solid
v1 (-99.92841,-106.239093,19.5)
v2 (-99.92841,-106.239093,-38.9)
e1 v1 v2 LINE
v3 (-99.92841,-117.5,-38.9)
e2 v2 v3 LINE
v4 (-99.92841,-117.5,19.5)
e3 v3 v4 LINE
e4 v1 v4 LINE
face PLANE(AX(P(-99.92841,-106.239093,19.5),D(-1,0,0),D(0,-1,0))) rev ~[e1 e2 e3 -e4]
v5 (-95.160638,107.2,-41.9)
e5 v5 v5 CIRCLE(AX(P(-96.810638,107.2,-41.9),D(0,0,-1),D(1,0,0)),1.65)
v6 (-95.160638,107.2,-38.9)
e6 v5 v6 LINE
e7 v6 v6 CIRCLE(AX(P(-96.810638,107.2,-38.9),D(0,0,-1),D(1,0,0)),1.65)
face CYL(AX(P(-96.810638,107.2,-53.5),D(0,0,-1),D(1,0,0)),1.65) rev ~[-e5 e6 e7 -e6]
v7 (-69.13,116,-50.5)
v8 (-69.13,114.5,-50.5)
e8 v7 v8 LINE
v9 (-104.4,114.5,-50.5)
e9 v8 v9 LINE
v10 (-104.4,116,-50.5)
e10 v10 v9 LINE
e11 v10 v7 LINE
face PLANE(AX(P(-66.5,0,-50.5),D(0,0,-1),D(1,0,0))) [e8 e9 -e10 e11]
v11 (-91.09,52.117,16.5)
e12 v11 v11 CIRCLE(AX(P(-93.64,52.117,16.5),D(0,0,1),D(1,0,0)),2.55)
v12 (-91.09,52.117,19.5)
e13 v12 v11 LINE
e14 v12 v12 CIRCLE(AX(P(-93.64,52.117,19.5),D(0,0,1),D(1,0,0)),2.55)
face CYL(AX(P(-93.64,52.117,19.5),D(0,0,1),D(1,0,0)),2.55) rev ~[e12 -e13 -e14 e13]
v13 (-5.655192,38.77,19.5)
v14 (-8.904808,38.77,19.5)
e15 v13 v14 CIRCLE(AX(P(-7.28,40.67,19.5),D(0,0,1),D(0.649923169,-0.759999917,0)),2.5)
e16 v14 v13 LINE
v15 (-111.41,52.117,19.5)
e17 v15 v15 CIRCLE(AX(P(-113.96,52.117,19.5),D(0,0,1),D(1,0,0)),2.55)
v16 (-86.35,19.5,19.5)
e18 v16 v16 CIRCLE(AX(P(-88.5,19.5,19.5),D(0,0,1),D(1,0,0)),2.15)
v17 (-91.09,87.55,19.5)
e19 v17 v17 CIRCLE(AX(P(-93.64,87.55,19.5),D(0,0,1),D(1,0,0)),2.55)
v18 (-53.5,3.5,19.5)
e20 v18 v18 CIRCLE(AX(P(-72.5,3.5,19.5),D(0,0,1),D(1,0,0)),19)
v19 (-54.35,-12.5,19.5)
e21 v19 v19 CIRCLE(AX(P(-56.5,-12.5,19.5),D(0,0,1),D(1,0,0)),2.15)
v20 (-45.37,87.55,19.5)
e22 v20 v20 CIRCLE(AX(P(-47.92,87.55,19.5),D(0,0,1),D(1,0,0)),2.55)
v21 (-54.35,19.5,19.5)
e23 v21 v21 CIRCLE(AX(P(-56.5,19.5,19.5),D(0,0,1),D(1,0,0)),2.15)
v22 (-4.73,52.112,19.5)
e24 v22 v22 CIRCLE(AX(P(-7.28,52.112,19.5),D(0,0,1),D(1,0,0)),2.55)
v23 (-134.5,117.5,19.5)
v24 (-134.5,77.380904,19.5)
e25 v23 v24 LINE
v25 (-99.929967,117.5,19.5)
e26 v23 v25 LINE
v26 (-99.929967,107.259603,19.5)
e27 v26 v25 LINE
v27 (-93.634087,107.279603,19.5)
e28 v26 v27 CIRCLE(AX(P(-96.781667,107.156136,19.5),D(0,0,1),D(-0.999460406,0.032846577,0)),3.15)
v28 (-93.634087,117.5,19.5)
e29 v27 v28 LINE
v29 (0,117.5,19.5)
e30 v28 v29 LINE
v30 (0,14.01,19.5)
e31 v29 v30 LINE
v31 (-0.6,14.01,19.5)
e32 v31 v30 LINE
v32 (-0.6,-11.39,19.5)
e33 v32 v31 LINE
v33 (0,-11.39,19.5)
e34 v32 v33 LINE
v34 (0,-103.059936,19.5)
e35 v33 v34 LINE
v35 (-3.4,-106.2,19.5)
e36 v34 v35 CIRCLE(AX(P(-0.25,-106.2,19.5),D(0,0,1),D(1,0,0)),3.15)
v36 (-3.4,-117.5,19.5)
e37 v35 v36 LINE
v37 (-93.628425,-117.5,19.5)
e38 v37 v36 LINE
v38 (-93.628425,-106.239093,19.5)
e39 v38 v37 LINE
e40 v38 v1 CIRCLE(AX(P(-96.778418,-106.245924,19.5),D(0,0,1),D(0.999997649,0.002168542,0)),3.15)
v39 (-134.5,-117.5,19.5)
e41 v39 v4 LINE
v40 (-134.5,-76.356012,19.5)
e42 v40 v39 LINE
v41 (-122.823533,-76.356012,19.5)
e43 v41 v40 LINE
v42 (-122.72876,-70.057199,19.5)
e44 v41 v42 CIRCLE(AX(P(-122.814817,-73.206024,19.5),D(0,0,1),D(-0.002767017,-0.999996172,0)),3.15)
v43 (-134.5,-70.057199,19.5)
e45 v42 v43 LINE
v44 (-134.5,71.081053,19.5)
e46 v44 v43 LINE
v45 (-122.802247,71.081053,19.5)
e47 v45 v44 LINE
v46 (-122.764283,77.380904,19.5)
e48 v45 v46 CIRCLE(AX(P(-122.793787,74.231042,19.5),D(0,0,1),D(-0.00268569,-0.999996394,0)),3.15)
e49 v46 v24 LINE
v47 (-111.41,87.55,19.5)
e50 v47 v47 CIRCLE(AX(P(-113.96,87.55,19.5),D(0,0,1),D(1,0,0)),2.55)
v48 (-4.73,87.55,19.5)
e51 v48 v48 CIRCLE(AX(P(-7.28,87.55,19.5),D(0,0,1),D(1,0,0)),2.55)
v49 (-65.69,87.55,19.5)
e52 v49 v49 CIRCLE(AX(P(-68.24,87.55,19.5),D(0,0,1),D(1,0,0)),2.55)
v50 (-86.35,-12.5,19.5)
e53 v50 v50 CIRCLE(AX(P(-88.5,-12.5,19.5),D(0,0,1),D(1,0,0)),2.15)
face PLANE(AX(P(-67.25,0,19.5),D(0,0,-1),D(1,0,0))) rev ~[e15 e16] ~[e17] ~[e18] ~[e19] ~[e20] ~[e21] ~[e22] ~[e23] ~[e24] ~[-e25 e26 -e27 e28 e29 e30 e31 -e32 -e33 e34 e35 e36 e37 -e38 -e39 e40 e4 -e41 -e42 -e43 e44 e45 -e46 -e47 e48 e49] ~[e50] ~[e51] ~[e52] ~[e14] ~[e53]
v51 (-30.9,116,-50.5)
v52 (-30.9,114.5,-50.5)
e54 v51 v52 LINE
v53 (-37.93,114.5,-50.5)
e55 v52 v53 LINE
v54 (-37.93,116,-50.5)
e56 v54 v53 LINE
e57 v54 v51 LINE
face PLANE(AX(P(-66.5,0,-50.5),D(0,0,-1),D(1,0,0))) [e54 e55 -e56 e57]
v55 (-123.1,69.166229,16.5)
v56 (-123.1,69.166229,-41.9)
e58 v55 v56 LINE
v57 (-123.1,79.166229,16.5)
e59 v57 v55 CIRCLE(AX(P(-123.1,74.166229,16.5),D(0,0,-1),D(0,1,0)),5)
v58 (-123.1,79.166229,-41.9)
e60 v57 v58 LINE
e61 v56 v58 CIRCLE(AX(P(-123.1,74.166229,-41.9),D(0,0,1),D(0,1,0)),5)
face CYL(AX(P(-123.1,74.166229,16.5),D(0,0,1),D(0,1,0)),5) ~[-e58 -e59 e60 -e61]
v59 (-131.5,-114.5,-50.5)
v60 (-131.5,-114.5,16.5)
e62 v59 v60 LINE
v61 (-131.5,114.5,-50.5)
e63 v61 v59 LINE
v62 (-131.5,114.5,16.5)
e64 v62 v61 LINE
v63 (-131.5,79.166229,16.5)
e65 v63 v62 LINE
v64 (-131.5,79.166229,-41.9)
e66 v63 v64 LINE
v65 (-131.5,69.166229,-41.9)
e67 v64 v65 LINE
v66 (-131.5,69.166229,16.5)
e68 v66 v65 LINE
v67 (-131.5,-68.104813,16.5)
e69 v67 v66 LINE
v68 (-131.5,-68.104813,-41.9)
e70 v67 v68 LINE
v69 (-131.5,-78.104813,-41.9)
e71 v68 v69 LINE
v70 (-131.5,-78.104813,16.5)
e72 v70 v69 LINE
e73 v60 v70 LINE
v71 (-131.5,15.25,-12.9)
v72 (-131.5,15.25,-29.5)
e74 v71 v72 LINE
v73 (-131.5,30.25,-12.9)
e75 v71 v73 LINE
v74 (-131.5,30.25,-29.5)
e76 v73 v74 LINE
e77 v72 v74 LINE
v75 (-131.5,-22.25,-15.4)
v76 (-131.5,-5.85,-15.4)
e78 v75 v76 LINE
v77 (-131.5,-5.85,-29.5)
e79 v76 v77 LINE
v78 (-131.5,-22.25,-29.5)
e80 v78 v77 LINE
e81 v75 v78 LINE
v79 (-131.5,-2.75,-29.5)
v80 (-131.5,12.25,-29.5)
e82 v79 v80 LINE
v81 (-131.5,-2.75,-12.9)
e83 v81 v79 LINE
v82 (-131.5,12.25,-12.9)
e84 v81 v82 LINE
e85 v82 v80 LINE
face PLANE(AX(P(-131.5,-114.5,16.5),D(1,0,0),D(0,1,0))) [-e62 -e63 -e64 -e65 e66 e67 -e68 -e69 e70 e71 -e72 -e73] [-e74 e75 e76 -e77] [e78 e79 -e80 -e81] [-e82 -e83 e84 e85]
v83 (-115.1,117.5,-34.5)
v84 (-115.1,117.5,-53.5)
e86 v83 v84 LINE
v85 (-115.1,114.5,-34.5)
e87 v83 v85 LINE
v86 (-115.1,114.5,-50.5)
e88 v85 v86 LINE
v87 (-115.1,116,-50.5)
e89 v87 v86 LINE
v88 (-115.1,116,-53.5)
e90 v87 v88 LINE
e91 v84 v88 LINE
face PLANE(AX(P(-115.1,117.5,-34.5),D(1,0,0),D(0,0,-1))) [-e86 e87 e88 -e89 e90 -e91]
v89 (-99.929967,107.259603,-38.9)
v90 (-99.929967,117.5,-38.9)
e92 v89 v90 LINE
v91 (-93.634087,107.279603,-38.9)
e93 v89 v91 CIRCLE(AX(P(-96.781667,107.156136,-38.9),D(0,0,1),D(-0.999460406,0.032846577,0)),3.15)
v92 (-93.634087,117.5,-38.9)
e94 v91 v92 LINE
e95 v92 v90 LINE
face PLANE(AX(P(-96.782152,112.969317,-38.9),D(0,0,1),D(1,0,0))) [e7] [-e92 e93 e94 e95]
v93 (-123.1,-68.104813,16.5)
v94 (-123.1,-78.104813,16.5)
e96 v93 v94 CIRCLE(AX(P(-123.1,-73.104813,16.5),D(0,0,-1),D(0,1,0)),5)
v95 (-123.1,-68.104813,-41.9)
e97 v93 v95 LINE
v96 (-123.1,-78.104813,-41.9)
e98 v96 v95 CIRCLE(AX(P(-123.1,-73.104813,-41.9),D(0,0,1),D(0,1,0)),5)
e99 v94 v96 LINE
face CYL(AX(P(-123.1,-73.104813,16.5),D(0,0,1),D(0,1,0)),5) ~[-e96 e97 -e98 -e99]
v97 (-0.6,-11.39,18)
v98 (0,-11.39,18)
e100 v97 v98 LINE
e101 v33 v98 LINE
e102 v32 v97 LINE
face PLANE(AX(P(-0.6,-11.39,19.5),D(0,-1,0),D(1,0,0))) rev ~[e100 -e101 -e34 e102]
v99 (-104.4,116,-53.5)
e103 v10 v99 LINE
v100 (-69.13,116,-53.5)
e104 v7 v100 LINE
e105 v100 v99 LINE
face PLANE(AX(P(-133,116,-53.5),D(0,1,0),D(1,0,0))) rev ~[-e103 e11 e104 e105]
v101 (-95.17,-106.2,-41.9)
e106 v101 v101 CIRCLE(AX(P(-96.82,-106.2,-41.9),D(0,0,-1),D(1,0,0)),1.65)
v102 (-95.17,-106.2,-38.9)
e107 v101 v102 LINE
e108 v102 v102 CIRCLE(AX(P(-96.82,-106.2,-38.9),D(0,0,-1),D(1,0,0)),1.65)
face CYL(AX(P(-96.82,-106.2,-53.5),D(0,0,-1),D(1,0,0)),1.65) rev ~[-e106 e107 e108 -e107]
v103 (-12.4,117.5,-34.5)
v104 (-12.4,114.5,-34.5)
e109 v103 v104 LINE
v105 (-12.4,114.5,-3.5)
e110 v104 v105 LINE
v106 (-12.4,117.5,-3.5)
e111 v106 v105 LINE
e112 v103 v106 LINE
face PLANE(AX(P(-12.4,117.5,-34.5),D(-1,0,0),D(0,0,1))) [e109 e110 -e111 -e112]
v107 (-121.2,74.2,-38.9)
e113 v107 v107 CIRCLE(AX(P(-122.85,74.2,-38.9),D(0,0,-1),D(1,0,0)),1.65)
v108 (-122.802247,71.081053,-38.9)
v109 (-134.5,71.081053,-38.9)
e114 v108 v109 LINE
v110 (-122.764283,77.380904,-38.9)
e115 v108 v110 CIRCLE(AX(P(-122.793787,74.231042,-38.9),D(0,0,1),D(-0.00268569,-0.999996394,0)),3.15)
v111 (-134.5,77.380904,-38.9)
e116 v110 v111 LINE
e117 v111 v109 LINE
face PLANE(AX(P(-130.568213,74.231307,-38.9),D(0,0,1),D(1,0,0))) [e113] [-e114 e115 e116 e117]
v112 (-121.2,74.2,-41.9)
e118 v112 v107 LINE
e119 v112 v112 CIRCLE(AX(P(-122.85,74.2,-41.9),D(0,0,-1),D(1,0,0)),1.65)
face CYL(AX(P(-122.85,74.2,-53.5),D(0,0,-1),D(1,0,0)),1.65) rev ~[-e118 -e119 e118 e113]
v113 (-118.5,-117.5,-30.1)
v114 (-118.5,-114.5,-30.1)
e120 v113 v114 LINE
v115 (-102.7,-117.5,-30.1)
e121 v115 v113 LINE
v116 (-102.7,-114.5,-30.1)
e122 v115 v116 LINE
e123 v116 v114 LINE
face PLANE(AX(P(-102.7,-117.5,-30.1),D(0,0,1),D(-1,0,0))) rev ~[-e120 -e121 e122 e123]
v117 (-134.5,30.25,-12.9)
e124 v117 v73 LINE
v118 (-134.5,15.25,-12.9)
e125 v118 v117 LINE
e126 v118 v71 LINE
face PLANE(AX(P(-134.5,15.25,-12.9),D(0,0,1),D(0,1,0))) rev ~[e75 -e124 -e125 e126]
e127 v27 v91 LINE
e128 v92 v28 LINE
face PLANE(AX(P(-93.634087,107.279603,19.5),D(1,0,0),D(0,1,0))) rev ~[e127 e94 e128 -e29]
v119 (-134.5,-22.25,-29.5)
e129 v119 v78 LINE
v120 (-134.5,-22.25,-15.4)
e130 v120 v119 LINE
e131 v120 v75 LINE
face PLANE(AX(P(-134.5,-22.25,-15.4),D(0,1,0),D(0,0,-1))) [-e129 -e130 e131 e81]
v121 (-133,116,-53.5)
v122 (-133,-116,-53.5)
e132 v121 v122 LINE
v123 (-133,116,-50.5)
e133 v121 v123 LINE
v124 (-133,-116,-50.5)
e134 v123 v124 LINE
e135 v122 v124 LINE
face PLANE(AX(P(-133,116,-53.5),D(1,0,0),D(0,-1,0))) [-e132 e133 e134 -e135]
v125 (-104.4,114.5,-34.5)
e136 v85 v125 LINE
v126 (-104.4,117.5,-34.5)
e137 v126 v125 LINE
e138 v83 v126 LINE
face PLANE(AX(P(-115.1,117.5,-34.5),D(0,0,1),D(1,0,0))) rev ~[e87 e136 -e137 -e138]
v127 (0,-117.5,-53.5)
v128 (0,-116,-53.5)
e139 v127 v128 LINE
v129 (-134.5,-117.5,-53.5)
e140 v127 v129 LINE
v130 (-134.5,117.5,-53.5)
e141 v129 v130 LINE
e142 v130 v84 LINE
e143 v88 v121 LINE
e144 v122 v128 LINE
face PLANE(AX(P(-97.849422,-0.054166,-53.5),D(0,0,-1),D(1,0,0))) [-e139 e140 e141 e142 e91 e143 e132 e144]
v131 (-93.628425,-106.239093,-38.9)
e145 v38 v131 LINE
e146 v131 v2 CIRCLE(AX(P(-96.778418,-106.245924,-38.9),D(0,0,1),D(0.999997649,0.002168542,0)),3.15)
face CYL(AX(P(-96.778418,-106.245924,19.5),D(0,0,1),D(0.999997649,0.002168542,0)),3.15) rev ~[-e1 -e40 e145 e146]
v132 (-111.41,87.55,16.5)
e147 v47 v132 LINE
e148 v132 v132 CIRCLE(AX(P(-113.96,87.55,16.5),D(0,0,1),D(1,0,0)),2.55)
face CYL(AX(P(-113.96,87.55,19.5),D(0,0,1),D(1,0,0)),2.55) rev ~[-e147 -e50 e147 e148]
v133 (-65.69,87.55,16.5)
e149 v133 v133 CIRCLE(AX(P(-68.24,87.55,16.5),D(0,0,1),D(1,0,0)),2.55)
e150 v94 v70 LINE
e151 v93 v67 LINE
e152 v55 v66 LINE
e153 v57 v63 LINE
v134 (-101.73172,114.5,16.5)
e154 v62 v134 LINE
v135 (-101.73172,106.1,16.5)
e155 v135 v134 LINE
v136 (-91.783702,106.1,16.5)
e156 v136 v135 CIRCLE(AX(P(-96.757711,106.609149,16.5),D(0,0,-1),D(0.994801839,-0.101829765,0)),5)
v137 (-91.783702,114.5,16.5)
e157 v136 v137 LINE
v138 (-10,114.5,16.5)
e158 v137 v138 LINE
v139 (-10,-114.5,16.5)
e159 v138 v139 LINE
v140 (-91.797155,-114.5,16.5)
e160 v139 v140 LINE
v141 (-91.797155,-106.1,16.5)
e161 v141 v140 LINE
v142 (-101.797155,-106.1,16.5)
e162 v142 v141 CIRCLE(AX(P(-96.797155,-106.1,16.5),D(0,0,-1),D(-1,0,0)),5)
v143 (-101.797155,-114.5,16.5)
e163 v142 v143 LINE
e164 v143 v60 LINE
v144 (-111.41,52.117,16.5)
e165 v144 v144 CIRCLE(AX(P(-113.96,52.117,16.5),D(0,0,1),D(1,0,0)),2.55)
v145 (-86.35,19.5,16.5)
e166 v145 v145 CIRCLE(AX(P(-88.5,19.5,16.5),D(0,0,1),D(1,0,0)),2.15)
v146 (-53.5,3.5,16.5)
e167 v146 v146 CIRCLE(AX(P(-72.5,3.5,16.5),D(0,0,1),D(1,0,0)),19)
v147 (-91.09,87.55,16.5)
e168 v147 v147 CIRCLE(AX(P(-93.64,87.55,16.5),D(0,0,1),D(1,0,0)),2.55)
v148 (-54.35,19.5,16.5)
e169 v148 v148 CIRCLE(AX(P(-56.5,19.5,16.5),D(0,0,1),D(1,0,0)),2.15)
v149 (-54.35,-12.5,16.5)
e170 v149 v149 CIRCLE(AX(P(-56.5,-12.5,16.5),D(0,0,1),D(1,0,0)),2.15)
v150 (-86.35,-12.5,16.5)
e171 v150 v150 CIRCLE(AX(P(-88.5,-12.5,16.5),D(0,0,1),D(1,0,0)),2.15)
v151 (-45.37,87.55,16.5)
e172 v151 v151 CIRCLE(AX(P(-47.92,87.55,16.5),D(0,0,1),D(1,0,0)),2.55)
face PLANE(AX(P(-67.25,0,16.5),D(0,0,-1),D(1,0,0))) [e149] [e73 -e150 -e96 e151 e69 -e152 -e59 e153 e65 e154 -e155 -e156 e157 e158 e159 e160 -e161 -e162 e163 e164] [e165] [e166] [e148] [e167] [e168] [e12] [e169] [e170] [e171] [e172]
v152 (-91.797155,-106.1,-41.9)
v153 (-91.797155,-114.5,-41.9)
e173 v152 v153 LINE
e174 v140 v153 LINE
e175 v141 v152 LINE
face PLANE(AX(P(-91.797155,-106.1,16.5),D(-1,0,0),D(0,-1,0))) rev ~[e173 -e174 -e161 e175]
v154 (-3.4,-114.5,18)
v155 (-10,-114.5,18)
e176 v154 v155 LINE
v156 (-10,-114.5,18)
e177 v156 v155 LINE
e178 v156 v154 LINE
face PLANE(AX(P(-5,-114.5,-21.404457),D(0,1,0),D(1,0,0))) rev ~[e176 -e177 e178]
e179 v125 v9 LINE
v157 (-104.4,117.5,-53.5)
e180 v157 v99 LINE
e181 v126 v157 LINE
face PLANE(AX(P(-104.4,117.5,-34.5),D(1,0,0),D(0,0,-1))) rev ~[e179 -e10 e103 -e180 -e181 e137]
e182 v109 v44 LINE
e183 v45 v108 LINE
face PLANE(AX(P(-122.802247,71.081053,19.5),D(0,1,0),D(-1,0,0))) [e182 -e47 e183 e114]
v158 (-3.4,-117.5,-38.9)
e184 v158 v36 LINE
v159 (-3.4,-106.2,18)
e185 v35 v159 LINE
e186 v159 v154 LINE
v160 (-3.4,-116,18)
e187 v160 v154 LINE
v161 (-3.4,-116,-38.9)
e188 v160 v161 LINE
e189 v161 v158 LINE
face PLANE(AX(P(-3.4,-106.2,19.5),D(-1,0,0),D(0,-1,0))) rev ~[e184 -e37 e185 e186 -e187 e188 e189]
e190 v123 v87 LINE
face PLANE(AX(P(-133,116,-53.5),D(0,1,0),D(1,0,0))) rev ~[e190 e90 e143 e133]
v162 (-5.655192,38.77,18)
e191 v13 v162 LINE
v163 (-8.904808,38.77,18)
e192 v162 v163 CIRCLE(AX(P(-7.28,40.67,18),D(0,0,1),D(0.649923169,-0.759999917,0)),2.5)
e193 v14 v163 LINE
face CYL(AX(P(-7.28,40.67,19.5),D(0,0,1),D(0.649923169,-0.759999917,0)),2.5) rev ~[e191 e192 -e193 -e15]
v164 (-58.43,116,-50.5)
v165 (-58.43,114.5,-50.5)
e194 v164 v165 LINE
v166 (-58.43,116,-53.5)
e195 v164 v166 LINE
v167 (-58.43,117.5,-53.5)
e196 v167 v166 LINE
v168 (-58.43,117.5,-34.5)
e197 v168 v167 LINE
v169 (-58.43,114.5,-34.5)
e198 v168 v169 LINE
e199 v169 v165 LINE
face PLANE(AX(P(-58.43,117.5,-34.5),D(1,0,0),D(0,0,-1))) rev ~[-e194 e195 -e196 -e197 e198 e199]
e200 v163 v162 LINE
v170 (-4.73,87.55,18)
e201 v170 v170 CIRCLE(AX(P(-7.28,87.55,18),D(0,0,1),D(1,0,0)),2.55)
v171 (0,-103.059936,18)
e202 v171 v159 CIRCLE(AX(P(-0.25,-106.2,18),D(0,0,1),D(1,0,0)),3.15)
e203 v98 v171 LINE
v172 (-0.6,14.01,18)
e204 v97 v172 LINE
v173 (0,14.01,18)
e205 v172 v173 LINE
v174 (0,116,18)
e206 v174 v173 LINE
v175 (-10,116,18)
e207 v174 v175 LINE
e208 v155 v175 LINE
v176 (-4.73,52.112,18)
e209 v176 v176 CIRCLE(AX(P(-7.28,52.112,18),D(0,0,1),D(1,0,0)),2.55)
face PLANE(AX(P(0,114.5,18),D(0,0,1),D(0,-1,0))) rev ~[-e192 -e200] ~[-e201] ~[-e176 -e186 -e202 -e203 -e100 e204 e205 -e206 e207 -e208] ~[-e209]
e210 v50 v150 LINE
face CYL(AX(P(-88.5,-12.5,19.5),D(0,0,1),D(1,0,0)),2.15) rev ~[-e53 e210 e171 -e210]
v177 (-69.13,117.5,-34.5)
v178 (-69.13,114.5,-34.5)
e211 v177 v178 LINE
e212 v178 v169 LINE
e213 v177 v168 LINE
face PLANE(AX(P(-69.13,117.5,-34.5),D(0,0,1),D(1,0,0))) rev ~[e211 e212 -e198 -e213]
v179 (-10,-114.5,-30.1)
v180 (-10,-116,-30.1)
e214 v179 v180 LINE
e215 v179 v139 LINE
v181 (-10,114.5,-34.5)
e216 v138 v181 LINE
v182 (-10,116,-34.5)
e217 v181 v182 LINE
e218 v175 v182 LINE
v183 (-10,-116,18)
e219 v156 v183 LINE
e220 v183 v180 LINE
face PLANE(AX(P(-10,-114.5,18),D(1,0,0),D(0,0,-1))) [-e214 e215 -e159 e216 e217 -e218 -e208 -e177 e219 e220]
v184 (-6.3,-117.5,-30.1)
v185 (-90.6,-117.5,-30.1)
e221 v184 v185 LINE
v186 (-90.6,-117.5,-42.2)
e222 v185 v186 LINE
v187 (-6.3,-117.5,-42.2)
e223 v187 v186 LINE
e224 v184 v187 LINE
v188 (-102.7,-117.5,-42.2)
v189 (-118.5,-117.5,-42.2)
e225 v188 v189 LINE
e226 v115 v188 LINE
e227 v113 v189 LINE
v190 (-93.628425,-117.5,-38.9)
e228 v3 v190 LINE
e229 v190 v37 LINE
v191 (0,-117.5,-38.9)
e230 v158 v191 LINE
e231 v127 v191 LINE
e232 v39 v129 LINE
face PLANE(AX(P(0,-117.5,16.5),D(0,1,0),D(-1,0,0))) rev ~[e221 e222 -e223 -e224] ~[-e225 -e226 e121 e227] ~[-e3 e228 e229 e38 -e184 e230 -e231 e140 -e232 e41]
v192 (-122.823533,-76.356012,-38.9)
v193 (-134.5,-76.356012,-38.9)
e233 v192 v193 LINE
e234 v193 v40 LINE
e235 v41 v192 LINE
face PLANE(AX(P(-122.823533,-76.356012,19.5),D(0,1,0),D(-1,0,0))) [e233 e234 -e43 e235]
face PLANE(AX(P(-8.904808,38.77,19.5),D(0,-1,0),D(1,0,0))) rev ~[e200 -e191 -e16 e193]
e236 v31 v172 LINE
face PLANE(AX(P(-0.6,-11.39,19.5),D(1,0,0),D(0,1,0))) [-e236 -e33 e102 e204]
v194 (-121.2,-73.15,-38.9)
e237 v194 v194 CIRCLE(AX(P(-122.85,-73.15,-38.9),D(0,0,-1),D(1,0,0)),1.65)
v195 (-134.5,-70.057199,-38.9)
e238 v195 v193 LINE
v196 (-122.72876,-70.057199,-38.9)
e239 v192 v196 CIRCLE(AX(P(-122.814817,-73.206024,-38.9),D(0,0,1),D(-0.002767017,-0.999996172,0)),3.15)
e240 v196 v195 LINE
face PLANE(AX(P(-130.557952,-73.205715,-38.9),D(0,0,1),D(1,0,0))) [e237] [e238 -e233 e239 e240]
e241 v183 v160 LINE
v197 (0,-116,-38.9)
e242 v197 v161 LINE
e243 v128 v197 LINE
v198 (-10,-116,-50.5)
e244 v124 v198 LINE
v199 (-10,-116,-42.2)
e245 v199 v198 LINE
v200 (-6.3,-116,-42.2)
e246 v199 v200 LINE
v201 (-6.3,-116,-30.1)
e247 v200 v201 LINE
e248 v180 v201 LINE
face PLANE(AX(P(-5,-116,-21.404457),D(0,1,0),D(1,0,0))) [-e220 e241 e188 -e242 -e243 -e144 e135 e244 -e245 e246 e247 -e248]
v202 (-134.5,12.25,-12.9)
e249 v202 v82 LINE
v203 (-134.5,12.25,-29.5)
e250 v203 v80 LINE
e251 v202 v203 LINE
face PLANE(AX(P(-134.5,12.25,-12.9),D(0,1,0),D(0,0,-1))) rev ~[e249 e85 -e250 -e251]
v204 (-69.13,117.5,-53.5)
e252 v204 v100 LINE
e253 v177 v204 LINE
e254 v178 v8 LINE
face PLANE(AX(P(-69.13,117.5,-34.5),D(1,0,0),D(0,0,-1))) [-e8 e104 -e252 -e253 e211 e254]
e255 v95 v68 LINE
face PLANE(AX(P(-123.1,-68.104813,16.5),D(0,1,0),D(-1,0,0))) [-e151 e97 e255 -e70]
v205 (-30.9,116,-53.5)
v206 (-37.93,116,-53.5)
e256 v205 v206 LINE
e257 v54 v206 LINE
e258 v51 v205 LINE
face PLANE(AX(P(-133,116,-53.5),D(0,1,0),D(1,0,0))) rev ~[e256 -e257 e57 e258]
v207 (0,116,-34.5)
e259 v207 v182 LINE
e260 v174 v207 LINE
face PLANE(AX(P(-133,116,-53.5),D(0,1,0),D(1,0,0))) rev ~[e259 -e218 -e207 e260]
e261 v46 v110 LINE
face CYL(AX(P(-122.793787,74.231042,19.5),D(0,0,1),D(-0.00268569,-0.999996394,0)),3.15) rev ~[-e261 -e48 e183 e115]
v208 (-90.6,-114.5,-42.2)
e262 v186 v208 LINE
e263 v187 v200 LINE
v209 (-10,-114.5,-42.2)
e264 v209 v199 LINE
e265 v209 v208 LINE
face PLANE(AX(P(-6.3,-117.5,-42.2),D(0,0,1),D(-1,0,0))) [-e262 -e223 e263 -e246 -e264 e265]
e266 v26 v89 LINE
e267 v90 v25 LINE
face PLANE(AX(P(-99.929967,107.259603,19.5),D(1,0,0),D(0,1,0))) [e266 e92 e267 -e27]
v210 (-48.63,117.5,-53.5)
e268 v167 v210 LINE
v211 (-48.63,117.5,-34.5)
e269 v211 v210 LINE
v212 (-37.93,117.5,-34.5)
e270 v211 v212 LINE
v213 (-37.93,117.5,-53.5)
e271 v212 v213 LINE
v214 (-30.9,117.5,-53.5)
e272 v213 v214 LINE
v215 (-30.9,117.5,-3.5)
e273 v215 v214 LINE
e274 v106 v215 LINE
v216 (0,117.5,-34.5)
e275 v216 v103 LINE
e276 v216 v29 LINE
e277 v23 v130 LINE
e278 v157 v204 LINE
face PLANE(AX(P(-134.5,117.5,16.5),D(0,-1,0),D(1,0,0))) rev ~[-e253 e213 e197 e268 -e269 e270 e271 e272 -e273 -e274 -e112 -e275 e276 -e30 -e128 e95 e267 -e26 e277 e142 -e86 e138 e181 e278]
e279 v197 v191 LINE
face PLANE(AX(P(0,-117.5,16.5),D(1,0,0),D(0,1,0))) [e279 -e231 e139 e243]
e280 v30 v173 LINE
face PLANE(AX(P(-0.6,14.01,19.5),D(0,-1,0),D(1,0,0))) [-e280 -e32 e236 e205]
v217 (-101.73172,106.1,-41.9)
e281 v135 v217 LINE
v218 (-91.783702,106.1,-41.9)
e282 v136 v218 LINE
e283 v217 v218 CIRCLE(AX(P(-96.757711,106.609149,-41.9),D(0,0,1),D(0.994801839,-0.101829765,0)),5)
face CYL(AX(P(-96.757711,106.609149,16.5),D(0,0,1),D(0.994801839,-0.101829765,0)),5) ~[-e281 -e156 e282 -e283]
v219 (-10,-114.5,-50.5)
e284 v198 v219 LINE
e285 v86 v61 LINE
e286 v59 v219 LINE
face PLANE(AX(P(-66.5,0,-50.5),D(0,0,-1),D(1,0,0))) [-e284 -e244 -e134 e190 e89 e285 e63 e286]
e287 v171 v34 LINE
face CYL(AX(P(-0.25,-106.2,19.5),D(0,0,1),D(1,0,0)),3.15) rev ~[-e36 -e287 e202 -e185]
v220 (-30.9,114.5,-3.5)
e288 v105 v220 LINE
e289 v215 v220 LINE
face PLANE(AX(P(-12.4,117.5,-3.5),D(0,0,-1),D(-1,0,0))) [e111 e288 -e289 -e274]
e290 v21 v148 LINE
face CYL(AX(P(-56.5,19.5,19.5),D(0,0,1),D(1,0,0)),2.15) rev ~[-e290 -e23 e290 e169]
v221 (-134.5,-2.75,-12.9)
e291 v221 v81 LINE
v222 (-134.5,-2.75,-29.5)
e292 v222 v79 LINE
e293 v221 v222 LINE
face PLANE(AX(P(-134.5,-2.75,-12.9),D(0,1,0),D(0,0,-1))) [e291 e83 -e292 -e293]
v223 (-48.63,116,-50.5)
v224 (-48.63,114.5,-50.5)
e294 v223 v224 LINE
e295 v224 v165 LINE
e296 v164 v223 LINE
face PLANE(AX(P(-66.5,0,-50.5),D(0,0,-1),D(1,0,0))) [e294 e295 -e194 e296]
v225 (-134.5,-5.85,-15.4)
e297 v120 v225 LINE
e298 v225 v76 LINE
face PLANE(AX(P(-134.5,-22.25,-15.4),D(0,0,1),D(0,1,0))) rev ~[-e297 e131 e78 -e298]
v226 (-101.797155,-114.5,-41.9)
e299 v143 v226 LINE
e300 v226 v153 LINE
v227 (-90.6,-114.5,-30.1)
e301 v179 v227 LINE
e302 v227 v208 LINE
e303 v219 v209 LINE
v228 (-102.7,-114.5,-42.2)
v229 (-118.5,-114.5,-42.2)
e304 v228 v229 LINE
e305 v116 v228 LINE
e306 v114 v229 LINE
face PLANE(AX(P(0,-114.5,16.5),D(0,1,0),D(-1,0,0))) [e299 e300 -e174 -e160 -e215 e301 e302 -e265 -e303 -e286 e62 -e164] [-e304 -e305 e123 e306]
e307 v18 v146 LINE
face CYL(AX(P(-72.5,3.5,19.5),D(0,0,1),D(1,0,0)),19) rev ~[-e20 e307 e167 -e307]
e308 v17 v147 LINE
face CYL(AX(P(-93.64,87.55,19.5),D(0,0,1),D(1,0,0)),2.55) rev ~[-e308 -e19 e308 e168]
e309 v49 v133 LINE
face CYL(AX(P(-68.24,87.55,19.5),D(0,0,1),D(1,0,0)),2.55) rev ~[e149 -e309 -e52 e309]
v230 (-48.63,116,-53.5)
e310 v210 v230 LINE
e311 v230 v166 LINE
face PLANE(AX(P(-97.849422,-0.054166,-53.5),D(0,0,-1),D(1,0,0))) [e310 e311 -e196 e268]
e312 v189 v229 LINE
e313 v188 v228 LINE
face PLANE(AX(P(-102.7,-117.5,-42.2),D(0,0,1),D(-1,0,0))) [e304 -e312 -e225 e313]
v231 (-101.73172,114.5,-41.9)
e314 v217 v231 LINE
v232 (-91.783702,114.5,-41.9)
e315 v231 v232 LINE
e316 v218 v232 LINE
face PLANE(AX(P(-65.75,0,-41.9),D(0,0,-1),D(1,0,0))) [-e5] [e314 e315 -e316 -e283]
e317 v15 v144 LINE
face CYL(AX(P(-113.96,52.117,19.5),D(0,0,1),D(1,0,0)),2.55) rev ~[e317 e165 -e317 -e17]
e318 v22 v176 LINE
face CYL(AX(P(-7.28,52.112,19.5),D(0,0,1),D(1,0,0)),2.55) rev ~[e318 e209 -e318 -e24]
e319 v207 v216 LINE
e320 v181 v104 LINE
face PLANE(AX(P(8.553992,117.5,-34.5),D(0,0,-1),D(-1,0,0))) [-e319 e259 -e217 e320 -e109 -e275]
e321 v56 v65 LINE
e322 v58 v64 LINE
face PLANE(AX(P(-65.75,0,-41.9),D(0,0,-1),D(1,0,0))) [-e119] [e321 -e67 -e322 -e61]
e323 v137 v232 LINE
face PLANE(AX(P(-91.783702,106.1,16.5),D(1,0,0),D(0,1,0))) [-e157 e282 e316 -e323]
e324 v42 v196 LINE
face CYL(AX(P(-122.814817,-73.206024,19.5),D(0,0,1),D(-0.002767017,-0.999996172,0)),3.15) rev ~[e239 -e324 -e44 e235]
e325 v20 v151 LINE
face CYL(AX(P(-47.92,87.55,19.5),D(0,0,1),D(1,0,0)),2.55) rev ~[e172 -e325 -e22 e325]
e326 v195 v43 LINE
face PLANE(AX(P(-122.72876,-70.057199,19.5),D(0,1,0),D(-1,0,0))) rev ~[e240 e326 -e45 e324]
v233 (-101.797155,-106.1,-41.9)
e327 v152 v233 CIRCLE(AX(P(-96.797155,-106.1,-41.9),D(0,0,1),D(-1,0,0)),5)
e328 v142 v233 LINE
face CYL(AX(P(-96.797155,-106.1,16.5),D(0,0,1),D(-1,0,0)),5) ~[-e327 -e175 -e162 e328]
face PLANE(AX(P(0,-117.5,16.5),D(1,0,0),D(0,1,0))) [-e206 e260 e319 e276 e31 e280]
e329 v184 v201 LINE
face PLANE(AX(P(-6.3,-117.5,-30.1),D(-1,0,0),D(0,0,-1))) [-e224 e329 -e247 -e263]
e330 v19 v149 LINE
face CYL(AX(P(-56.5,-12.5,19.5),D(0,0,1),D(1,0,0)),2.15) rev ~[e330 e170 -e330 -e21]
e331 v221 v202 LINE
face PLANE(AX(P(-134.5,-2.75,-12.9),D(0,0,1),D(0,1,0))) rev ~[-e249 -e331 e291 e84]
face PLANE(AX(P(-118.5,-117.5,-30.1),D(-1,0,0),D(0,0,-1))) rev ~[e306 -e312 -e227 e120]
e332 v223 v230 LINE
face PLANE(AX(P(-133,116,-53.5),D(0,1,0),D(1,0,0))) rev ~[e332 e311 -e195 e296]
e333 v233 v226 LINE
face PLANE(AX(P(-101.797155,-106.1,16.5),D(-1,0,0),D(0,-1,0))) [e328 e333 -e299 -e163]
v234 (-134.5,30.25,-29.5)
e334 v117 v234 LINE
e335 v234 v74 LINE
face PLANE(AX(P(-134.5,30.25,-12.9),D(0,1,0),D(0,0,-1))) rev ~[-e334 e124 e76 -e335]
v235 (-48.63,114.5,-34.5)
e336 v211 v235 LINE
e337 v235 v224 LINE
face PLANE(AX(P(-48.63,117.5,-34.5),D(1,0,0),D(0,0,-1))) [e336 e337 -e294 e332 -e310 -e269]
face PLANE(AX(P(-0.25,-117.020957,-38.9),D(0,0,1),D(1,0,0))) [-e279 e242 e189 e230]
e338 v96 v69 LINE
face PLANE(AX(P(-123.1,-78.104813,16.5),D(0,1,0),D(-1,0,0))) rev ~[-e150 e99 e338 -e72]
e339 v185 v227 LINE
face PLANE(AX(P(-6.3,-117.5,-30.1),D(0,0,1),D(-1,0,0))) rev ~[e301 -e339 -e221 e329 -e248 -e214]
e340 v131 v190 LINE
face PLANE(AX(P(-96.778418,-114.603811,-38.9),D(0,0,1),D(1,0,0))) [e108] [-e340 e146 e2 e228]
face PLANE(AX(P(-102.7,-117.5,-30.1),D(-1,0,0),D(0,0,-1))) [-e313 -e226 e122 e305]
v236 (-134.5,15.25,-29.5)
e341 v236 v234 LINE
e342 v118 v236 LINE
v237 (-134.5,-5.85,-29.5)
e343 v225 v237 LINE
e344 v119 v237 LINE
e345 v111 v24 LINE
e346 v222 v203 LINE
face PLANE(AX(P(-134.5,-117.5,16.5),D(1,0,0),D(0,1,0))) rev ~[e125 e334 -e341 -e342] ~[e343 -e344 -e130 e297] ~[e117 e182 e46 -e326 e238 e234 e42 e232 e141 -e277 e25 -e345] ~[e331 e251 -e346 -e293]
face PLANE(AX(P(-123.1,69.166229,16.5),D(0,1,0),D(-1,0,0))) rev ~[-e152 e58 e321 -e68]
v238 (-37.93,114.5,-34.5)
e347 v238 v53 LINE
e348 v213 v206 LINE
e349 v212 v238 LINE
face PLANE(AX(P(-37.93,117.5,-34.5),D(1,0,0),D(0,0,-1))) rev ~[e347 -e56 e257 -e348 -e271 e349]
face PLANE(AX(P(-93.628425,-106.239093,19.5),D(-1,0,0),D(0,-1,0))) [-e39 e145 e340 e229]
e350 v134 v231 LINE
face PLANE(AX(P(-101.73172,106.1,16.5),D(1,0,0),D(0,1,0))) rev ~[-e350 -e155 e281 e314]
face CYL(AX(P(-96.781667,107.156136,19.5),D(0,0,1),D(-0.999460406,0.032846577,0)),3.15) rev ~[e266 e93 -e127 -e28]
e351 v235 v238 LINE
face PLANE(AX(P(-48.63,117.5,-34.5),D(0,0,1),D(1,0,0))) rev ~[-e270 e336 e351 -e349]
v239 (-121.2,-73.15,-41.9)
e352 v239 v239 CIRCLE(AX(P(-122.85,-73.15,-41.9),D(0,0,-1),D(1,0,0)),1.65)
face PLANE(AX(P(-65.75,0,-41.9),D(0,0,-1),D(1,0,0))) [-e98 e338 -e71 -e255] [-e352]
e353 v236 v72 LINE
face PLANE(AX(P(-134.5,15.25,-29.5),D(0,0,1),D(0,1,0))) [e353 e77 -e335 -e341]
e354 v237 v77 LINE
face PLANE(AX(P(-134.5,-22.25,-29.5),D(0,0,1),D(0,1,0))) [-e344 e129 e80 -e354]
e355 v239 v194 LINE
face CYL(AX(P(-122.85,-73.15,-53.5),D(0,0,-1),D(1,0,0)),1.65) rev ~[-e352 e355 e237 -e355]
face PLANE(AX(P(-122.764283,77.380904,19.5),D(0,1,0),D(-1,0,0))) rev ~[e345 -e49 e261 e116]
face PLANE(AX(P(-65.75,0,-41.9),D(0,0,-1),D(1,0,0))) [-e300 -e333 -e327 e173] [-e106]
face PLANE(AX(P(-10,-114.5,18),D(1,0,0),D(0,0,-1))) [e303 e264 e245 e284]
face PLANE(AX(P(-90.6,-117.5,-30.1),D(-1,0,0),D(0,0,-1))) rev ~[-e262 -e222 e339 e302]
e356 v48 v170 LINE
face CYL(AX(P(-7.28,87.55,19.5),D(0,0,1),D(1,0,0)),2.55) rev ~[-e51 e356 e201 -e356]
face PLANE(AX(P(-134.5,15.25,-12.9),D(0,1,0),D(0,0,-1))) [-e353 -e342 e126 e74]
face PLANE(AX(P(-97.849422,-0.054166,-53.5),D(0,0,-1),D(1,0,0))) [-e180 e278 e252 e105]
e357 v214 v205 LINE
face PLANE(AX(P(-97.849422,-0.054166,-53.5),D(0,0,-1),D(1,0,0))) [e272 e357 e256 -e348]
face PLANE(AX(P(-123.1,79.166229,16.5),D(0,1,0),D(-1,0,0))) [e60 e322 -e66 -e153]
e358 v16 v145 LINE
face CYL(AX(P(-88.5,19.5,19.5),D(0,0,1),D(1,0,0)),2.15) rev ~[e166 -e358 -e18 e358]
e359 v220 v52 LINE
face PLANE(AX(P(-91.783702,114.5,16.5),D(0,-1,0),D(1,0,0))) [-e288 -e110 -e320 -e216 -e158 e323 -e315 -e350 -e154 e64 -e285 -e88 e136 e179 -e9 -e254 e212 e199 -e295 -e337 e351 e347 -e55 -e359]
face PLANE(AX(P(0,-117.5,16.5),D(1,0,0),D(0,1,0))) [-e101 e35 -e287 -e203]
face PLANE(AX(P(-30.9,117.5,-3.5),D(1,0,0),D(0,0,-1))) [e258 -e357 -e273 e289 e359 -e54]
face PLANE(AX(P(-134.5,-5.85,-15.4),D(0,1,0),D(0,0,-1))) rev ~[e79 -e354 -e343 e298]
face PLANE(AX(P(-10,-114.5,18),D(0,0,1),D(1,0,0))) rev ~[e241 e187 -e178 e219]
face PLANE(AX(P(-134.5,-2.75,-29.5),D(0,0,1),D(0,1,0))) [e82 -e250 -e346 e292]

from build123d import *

# Parameters (mm, degrees)
SKETCH_W        = 134.5
SKETCH_H        = 235
PAD_DEPTH       = 3
SKETCH001_W     = 229
SKETCH001_H     = 1.5
POCKET_DEPTH    = 10
PAD001_DEPTH    = 70
SKETCH004_R     = 1.65
HOLE_DEPTH      = 73.001
POCKET003_DEPTH = 58.4
SKETCH005_W     = 10
SKETCH005_H     = 78.808915
POCKET005_DEPTH = 1.5
SKETCH006_W     = 10
SKETCH006_H     = 73.5
POCKET006_DEPTH = 1.5
SKETCH008_W     = 133
SKETCH008_H     = 232
POCKET007_DEPTH = 3
SKETCH009_W     = 131.5
SKETCH009_H     = 229
POCKET008_DEPTH = 8.6
SKETCH010_W     = 15.8
SKETCH010_H     = 12.1
SKETCH010_W_2   = 84.3
POCKET009_DEPTH = 3
SKETCH011_W     = 15
SKETCH011_H     = 16.6
SKETCH011_W_2   = 16.4
SKETCH011_H_2   = 14.1
POCKET010_DEPTH = 3
SKETCH012_W     = 10.7
SKETCH012_H     = 25
POCKET011_DEPTH = 3
POCKET012_DEPTH = 3
SKETCH014_R     = 19
SKETCH014_R_2   = 2.15
POCKET013_DEPTH = 3
SKETCH015_R     = 2.55
POCKET014_DEPTH = 3
SKETCH016_R     = 2.55
POCKET015_DEPTH = 3
SKETCH017_W     = 0.6
SKETCH017_H     = 25.4
POCKET016_DEPTH = 10


with BuildPart() as part:
    # Sketch → Pad (new body)
    with BuildSketch(Plane(origin=(0, 0, 19.5), x_dir=(1, 0, 0), z_dir=(0, 0, -1))):
        with Locations((-67.25, 0)):
            Rectangle(SKETCH_W, SKETCH_H)
    extrude(amount=PAD_DEPTH)

    # Sketch001 (on Face2 of Pad) → Pocket (cut)
    with BuildSketch(Plane(origin=(0, 0, 19.5), x_dir=(0, -1, 0), z_dir=(1, 0, 0))):
        with Locations((0, 2.25)):
            Rectangle(SKETCH001_W, SKETCH001_H)
    extrude(amount=-POCKET_DEPTH, mode=Mode.SUBTRACT)

    # Sketch003 (on Face5 of Pocket) → Pad001 (join)
    with BuildSketch(Plane(origin=(0, 0, 16.5), x_dir=(1, 0, 0), z_dir=(0, 0, -1))):
        with BuildLine():
            Line((0, 117.5), (-134.5, 117.5))
            Line((-134.5, 117.5), (-134.5, -117.5))
            Line((-134.5, -117.5), (0, -117.5))
            Line((0, -117.5), (0, -114.5))
            Line((-91.783702, -114.5), (0, -114.5))
            Line((-91.783702, -106.1), (-91.783702, -114.5))
            ThreePointArc((-91.783702, -106.1), (-96.757711, -101.609149), (-101.73172, -106.1))
            Line((-101.73172, -106.1), (-101.73172, -114.5))
            Line((-131.5, -114.5), (-101.73172, -114.5))
            Line((-131.5, -79.166229), (-131.5, -114.5))
            Line((-123.1, -79.166229), (-131.5, -79.166229))
            ThreePointArc((-123.1, -79.166229), (-118.1, -74.166229), (-123.1, -69.166229))
            Line((-123.1, -69.166229), (-131.5, -69.166229))
            Line((-131.5, 68.104813), (-131.5, -69.166229))
            Line((-123.1, 68.104813), (-131.5, 68.104813))
            ThreePointArc((-123.1, 68.104813), (-118.1, 73.104813), (-123.1, 78.104813))
            Line((-123.1, 78.104813), (-131.5, 78.104813))
            Line((-131.5, 114.5), (-131.5, 78.104813))
            Line((-101.797155, 114.5), (-131.5, 114.5))
            Line((-101.797155, 106.1), (-101.797155, 114.5))
            ThreePointArc((-101.797155, 106.1), (-96.797155, 101.1), (-91.797155, 106.1))
            Line((-91.797155, 106.1), (-91.797155, 114.5))
            Line((0, 114.5), (-91.797155, 114.5))
            Line((0, 117.5), (0, 114.5))
        make_face()
    extrude(amount=PAD001_DEPTH)

    # Sketch004 (on Face13 of Pad001) → Hole (cut, through all)
    with BuildSketch(Plane(origin=(0, 0, -53.5), x_dir=(1, 0, 0), z_dir=(0, 0, -1))):
        with Locations((-96.82, 106.2)):
            Circle(SKETCH004_R)
        with Locations((-122.85, 73.15)):
            Circle(SKETCH004_R)
        with Locations((-122.85, -74.2)):
            Circle(SKETCH004_R)
        with Locations((-96.810638, -107.2)):
            Circle(SKETCH004_R)
        with Locations((-0.274356, 106.680336)):
            Circle(SKETCH004_R)
    extrude(amount=-HOLE_DEPTH, mode=Mode.SUBTRACT)

    # Sketch007 → Pocket003 (cut)
    with BuildSketch(Plane.XY.offset(19.5)):
        with BuildLine():
            ThreePointArc((-99.929967, 107.259603), (-96.77166, 104.006152), (-93.634087, 107.279603))
            Line((-93.634087, 107.279603), (-93.634087, 120.569603))
            Line((-93.634087, 120.569603), (-99.929967, 120.569603))
            Line((-99.929967, 107.259603), (-99.929967, 120.569603))
        make_face()
        with BuildLine():
            ThreePointArc((-122.802247, 71.081053), (-119.643844, 74.21206), (-122.764283, 77.380904))
            Line((-122.764283, 77.380904), (-140.108887, 77.380904))
            Line((-140.108887, 71.081053), (-140.108887, 77.380904))
            Line((-122.802247, 71.081053), (-140.108887, 71.081053))
        make_face()
        with BuildLine():
            ThreePointArc((-122.823533, -76.356012), (-119.665173, -73.253414), (-122.72876, -70.057199))
            Line((-122.72876, -70.057199), (-140.071655, -70.057199))
            Line((-140.071655, -76.356012), (-140.071655, -70.057199))
            Line((-122.823533, -76.356012), (-140.071655, -76.356012))
        make_face()
        with BuildLine():
            ThreePointArc((-93.628425, -106.239093), (-96.778418, -103.095924), (-99.92841, -106.239093))
            Line((-99.92841, -106.239093), (-99.92841, -124.719093))
            Line((-93.628425, -124.719093), (-99.92841, -124.719093))
            Line((-93.628425, -106.239093), (-93.628425, -124.719093))
        make_face()
        with BuildLine():
            ThreePointArc((2.9, -106.2), (-0.25, -103.05), (-3.4, -106.2))
            Line((-3.4, -106.2), (-3.4, -129.57))
            Line((-3.4, -129.57), (2.9, -129.57))
            Line((2.9, -106.2), (2.9, -129.57))
        make_face()
    extrude(amount=-POCKET003_DEPTH, mode=Mode.SUBTRACT)

    # Sketch005 (on Face21 of Hole) → Pocket005 (cut)
    with BuildSketch(Plane(origin=(0, -114.5, 19.5), x_dir=(1, 0, 0), z_dir=(0, 1, 0))):
        with Locations((-5, 40.904457)):
            Rectangle(SKETCH005_W, SKETCH005_H)
    extrude(amount=-POCKET005_DEPTH, mode=Mode.SUBTRACT)

    # Sketch006 → Pocket006 (cut)
    with BuildSketch(Plane(origin=(0, 114.5, 19.5), x_dir=(-1, 0, 0), z_dir=(0, -1, 0))):
        with Locations((5, 38.25)):
            Rectangle(SKETCH006_W, SKETCH006_H)
    extrude(amount=-POCKET006_DEPTH, mode=Mode.SUBTRACT)

    # Sketch008 → Pocket007 (cut)
    with BuildSketch(Plane(origin=(0, 0, -53.5), x_dir=(1, 0, 0), z_dir=(0, 0, -1))):
        with Locations((-66.5, 0)):
            Rectangle(SKETCH008_W, SKETCH008_H)
    extrude(amount=-POCKET007_DEPTH, mode=Mode.SUBTRACT)

    # Sketch009 (on Face52 of Pocket007) → Pocket008 (cut)
    with BuildSketch(Plane(origin=(0, 0, -50.5), x_dir=(1, 0, 0), z_dir=(0, 0, -1))):
        with Locations((-65.75, 0)):
            Rectangle(SKETCH009_W, SKETCH009_H)
    extrude(amount=-POCKET008_DEPTH, mode=Mode.SUBTRACT)

    # Sketch010 (on Face4 of Pocket008) → Pocket009 (cut)
    with BuildSketch(Plane(origin=(0, -117.5, 19.5), x_dir=(-1, 0, 0), z_dir=(0, -1, 0))):
        with Locations((110.6, 55.65)):
            Rectangle(SKETCH010_W, SKETCH010_H)
        with Locations((48.45, 55.65)):
            Rectangle(SKETCH010_W_2, SKETCH010_H)
    extrude(amount=-POCKET009_DEPTH, mode=Mode.SUBTRACT)

    # Sketch011 (on Face29 of Pocket009) → Pocket010 (cut)
    with BuildSketch(Plane(origin=(-134.5, 0, 19.5), x_dir=(0, 1, 0), z_dir=(-1, 0, 0))):
        with Locations((22.75, 40.7)):
            Rectangle(SKETCH011_W, SKETCH011_H)
        with Locations((4.75, 40.7)):
            Rectangle(SKETCH011_W, SKETCH011_H)
        with Locations((-14.05, 41.95)):
            Rectangle(SKETCH011_W_2, SKETCH011_H_2)
    extrude(amount=-POCKET010_DEPTH, mode=Mode.SUBTRACT)

    # Sketch012 (on Face38 of Pocket010) → Pocket011 (cut)
    with BuildSketch(Plane(origin=(0, 117.5, 19.5), x_dir=(1, 0, 0), z_dir=(0, 1, 0))):
        with Locations((-109.75, 66.5)):
            Rectangle(SKETCH012_W, SKETCH012_H)
        with Locations((-63.78, 66.5)):
            Rectangle(SKETCH012_W, SKETCH012_H)
        with Locations((-43.28, 66.5)):
            Rectangle(SKETCH012_W, SKETCH012_H)
        Polygon((-12.4, 23), (-30.9, 23), (-30.9, 82), (-12.4, 82), (-12.4, 79), (8.553992, 79), (8.553992, 54), (-12.4, 54), align=None)
    extrude(amount=-POCKET011_DEPTH, mode=Mode.SUBTRACT)

    # Sketch013 (on Face2 of Pocket011) → Pocket012 (cut)
    with BuildSketch(Plane.XY.offset(19.5)):
        with BuildLine():
            ThreePointArc((-5.655192, 38.77), (-7.28, 43.17), (-8.904808, 38.77))
            Line((-8.904808, 38.77), (-5.655192, 38.77))
        make_face()
    extrude(amount=-POCKET012_DEPTH, mode=Mode.SUBTRACT)

    # Sketch014 (on Face2 of Pocket012) → Pocket013 (cut)
    with BuildSketch(Plane.XY.offset(19.5)):
        with Locations((-72.5, 3.5)):
            Circle(SKETCH014_R)
        with Locations((-88.5, 19.5)):
            Circle(SKETCH014_R_2)
        with Locations((-56.5, 19.5)):
            Circle(SKETCH014_R_2)
        with Locations((-88.5, -12.5)):
            Circle(SKETCH014_R_2)
        with Locations((-56.5, -12.5)):
            Circle(SKETCH014_R_2)
    extrude(amount=-POCKET013_DEPTH, mode=Mode.SUBTRACT)

    # Sketch015 (on Face2 of Pocket013) → Pocket014 (cut)
    with BuildSketch(Plane.XY.offset(19.5)):
        with Locations((-7.28, 52.112)):
            Circle(SKETCH015_R)
    extrude(amount=-POCKET014_DEPTH, mode=Mode.SUBTRACT)

    # Sketch016 (on Face2 of Pocket014) → Pocket015 (cut)
    with BuildSketch(Plane.XY.offset(19.5)):
        with Locations((-7.28, 87.55)):
            Circle(SKETCH016_R)
        with Locations((-47.92, 87.55)):
            Circle(SKETCH016_R)
        with Locations((-68.24, 87.55)):
            Circle(SKETCH016_R)
        with Locations((-93.64, 87.55)):
            Circle(SKETCH016_R)
        with Locations((-113.96, 87.55)):
            Circle(SKETCH016_R)
        with Locations((-113.96, 52.117)):
            Circle(SKETCH016_R)
        with Locations((-93.64, 52.117)):
            Circle(SKETCH016_R)
    extrude(amount=-POCKET015_DEPTH, mode=Mode.SUBTRACT)

    # Sketch017 (on Face2 of Pocket015) → Pocket016 (cut)
    with BuildSketch(Plane.XY.offset(19.5)):
        with Locations((-0.3, 1.31)):
            Rectangle(SKETCH017_W, SKETCH017_H)
    extrude(amount=-POCKET016_DEPTH, mode=Mode.SUBTRACT)


solid = part.part
